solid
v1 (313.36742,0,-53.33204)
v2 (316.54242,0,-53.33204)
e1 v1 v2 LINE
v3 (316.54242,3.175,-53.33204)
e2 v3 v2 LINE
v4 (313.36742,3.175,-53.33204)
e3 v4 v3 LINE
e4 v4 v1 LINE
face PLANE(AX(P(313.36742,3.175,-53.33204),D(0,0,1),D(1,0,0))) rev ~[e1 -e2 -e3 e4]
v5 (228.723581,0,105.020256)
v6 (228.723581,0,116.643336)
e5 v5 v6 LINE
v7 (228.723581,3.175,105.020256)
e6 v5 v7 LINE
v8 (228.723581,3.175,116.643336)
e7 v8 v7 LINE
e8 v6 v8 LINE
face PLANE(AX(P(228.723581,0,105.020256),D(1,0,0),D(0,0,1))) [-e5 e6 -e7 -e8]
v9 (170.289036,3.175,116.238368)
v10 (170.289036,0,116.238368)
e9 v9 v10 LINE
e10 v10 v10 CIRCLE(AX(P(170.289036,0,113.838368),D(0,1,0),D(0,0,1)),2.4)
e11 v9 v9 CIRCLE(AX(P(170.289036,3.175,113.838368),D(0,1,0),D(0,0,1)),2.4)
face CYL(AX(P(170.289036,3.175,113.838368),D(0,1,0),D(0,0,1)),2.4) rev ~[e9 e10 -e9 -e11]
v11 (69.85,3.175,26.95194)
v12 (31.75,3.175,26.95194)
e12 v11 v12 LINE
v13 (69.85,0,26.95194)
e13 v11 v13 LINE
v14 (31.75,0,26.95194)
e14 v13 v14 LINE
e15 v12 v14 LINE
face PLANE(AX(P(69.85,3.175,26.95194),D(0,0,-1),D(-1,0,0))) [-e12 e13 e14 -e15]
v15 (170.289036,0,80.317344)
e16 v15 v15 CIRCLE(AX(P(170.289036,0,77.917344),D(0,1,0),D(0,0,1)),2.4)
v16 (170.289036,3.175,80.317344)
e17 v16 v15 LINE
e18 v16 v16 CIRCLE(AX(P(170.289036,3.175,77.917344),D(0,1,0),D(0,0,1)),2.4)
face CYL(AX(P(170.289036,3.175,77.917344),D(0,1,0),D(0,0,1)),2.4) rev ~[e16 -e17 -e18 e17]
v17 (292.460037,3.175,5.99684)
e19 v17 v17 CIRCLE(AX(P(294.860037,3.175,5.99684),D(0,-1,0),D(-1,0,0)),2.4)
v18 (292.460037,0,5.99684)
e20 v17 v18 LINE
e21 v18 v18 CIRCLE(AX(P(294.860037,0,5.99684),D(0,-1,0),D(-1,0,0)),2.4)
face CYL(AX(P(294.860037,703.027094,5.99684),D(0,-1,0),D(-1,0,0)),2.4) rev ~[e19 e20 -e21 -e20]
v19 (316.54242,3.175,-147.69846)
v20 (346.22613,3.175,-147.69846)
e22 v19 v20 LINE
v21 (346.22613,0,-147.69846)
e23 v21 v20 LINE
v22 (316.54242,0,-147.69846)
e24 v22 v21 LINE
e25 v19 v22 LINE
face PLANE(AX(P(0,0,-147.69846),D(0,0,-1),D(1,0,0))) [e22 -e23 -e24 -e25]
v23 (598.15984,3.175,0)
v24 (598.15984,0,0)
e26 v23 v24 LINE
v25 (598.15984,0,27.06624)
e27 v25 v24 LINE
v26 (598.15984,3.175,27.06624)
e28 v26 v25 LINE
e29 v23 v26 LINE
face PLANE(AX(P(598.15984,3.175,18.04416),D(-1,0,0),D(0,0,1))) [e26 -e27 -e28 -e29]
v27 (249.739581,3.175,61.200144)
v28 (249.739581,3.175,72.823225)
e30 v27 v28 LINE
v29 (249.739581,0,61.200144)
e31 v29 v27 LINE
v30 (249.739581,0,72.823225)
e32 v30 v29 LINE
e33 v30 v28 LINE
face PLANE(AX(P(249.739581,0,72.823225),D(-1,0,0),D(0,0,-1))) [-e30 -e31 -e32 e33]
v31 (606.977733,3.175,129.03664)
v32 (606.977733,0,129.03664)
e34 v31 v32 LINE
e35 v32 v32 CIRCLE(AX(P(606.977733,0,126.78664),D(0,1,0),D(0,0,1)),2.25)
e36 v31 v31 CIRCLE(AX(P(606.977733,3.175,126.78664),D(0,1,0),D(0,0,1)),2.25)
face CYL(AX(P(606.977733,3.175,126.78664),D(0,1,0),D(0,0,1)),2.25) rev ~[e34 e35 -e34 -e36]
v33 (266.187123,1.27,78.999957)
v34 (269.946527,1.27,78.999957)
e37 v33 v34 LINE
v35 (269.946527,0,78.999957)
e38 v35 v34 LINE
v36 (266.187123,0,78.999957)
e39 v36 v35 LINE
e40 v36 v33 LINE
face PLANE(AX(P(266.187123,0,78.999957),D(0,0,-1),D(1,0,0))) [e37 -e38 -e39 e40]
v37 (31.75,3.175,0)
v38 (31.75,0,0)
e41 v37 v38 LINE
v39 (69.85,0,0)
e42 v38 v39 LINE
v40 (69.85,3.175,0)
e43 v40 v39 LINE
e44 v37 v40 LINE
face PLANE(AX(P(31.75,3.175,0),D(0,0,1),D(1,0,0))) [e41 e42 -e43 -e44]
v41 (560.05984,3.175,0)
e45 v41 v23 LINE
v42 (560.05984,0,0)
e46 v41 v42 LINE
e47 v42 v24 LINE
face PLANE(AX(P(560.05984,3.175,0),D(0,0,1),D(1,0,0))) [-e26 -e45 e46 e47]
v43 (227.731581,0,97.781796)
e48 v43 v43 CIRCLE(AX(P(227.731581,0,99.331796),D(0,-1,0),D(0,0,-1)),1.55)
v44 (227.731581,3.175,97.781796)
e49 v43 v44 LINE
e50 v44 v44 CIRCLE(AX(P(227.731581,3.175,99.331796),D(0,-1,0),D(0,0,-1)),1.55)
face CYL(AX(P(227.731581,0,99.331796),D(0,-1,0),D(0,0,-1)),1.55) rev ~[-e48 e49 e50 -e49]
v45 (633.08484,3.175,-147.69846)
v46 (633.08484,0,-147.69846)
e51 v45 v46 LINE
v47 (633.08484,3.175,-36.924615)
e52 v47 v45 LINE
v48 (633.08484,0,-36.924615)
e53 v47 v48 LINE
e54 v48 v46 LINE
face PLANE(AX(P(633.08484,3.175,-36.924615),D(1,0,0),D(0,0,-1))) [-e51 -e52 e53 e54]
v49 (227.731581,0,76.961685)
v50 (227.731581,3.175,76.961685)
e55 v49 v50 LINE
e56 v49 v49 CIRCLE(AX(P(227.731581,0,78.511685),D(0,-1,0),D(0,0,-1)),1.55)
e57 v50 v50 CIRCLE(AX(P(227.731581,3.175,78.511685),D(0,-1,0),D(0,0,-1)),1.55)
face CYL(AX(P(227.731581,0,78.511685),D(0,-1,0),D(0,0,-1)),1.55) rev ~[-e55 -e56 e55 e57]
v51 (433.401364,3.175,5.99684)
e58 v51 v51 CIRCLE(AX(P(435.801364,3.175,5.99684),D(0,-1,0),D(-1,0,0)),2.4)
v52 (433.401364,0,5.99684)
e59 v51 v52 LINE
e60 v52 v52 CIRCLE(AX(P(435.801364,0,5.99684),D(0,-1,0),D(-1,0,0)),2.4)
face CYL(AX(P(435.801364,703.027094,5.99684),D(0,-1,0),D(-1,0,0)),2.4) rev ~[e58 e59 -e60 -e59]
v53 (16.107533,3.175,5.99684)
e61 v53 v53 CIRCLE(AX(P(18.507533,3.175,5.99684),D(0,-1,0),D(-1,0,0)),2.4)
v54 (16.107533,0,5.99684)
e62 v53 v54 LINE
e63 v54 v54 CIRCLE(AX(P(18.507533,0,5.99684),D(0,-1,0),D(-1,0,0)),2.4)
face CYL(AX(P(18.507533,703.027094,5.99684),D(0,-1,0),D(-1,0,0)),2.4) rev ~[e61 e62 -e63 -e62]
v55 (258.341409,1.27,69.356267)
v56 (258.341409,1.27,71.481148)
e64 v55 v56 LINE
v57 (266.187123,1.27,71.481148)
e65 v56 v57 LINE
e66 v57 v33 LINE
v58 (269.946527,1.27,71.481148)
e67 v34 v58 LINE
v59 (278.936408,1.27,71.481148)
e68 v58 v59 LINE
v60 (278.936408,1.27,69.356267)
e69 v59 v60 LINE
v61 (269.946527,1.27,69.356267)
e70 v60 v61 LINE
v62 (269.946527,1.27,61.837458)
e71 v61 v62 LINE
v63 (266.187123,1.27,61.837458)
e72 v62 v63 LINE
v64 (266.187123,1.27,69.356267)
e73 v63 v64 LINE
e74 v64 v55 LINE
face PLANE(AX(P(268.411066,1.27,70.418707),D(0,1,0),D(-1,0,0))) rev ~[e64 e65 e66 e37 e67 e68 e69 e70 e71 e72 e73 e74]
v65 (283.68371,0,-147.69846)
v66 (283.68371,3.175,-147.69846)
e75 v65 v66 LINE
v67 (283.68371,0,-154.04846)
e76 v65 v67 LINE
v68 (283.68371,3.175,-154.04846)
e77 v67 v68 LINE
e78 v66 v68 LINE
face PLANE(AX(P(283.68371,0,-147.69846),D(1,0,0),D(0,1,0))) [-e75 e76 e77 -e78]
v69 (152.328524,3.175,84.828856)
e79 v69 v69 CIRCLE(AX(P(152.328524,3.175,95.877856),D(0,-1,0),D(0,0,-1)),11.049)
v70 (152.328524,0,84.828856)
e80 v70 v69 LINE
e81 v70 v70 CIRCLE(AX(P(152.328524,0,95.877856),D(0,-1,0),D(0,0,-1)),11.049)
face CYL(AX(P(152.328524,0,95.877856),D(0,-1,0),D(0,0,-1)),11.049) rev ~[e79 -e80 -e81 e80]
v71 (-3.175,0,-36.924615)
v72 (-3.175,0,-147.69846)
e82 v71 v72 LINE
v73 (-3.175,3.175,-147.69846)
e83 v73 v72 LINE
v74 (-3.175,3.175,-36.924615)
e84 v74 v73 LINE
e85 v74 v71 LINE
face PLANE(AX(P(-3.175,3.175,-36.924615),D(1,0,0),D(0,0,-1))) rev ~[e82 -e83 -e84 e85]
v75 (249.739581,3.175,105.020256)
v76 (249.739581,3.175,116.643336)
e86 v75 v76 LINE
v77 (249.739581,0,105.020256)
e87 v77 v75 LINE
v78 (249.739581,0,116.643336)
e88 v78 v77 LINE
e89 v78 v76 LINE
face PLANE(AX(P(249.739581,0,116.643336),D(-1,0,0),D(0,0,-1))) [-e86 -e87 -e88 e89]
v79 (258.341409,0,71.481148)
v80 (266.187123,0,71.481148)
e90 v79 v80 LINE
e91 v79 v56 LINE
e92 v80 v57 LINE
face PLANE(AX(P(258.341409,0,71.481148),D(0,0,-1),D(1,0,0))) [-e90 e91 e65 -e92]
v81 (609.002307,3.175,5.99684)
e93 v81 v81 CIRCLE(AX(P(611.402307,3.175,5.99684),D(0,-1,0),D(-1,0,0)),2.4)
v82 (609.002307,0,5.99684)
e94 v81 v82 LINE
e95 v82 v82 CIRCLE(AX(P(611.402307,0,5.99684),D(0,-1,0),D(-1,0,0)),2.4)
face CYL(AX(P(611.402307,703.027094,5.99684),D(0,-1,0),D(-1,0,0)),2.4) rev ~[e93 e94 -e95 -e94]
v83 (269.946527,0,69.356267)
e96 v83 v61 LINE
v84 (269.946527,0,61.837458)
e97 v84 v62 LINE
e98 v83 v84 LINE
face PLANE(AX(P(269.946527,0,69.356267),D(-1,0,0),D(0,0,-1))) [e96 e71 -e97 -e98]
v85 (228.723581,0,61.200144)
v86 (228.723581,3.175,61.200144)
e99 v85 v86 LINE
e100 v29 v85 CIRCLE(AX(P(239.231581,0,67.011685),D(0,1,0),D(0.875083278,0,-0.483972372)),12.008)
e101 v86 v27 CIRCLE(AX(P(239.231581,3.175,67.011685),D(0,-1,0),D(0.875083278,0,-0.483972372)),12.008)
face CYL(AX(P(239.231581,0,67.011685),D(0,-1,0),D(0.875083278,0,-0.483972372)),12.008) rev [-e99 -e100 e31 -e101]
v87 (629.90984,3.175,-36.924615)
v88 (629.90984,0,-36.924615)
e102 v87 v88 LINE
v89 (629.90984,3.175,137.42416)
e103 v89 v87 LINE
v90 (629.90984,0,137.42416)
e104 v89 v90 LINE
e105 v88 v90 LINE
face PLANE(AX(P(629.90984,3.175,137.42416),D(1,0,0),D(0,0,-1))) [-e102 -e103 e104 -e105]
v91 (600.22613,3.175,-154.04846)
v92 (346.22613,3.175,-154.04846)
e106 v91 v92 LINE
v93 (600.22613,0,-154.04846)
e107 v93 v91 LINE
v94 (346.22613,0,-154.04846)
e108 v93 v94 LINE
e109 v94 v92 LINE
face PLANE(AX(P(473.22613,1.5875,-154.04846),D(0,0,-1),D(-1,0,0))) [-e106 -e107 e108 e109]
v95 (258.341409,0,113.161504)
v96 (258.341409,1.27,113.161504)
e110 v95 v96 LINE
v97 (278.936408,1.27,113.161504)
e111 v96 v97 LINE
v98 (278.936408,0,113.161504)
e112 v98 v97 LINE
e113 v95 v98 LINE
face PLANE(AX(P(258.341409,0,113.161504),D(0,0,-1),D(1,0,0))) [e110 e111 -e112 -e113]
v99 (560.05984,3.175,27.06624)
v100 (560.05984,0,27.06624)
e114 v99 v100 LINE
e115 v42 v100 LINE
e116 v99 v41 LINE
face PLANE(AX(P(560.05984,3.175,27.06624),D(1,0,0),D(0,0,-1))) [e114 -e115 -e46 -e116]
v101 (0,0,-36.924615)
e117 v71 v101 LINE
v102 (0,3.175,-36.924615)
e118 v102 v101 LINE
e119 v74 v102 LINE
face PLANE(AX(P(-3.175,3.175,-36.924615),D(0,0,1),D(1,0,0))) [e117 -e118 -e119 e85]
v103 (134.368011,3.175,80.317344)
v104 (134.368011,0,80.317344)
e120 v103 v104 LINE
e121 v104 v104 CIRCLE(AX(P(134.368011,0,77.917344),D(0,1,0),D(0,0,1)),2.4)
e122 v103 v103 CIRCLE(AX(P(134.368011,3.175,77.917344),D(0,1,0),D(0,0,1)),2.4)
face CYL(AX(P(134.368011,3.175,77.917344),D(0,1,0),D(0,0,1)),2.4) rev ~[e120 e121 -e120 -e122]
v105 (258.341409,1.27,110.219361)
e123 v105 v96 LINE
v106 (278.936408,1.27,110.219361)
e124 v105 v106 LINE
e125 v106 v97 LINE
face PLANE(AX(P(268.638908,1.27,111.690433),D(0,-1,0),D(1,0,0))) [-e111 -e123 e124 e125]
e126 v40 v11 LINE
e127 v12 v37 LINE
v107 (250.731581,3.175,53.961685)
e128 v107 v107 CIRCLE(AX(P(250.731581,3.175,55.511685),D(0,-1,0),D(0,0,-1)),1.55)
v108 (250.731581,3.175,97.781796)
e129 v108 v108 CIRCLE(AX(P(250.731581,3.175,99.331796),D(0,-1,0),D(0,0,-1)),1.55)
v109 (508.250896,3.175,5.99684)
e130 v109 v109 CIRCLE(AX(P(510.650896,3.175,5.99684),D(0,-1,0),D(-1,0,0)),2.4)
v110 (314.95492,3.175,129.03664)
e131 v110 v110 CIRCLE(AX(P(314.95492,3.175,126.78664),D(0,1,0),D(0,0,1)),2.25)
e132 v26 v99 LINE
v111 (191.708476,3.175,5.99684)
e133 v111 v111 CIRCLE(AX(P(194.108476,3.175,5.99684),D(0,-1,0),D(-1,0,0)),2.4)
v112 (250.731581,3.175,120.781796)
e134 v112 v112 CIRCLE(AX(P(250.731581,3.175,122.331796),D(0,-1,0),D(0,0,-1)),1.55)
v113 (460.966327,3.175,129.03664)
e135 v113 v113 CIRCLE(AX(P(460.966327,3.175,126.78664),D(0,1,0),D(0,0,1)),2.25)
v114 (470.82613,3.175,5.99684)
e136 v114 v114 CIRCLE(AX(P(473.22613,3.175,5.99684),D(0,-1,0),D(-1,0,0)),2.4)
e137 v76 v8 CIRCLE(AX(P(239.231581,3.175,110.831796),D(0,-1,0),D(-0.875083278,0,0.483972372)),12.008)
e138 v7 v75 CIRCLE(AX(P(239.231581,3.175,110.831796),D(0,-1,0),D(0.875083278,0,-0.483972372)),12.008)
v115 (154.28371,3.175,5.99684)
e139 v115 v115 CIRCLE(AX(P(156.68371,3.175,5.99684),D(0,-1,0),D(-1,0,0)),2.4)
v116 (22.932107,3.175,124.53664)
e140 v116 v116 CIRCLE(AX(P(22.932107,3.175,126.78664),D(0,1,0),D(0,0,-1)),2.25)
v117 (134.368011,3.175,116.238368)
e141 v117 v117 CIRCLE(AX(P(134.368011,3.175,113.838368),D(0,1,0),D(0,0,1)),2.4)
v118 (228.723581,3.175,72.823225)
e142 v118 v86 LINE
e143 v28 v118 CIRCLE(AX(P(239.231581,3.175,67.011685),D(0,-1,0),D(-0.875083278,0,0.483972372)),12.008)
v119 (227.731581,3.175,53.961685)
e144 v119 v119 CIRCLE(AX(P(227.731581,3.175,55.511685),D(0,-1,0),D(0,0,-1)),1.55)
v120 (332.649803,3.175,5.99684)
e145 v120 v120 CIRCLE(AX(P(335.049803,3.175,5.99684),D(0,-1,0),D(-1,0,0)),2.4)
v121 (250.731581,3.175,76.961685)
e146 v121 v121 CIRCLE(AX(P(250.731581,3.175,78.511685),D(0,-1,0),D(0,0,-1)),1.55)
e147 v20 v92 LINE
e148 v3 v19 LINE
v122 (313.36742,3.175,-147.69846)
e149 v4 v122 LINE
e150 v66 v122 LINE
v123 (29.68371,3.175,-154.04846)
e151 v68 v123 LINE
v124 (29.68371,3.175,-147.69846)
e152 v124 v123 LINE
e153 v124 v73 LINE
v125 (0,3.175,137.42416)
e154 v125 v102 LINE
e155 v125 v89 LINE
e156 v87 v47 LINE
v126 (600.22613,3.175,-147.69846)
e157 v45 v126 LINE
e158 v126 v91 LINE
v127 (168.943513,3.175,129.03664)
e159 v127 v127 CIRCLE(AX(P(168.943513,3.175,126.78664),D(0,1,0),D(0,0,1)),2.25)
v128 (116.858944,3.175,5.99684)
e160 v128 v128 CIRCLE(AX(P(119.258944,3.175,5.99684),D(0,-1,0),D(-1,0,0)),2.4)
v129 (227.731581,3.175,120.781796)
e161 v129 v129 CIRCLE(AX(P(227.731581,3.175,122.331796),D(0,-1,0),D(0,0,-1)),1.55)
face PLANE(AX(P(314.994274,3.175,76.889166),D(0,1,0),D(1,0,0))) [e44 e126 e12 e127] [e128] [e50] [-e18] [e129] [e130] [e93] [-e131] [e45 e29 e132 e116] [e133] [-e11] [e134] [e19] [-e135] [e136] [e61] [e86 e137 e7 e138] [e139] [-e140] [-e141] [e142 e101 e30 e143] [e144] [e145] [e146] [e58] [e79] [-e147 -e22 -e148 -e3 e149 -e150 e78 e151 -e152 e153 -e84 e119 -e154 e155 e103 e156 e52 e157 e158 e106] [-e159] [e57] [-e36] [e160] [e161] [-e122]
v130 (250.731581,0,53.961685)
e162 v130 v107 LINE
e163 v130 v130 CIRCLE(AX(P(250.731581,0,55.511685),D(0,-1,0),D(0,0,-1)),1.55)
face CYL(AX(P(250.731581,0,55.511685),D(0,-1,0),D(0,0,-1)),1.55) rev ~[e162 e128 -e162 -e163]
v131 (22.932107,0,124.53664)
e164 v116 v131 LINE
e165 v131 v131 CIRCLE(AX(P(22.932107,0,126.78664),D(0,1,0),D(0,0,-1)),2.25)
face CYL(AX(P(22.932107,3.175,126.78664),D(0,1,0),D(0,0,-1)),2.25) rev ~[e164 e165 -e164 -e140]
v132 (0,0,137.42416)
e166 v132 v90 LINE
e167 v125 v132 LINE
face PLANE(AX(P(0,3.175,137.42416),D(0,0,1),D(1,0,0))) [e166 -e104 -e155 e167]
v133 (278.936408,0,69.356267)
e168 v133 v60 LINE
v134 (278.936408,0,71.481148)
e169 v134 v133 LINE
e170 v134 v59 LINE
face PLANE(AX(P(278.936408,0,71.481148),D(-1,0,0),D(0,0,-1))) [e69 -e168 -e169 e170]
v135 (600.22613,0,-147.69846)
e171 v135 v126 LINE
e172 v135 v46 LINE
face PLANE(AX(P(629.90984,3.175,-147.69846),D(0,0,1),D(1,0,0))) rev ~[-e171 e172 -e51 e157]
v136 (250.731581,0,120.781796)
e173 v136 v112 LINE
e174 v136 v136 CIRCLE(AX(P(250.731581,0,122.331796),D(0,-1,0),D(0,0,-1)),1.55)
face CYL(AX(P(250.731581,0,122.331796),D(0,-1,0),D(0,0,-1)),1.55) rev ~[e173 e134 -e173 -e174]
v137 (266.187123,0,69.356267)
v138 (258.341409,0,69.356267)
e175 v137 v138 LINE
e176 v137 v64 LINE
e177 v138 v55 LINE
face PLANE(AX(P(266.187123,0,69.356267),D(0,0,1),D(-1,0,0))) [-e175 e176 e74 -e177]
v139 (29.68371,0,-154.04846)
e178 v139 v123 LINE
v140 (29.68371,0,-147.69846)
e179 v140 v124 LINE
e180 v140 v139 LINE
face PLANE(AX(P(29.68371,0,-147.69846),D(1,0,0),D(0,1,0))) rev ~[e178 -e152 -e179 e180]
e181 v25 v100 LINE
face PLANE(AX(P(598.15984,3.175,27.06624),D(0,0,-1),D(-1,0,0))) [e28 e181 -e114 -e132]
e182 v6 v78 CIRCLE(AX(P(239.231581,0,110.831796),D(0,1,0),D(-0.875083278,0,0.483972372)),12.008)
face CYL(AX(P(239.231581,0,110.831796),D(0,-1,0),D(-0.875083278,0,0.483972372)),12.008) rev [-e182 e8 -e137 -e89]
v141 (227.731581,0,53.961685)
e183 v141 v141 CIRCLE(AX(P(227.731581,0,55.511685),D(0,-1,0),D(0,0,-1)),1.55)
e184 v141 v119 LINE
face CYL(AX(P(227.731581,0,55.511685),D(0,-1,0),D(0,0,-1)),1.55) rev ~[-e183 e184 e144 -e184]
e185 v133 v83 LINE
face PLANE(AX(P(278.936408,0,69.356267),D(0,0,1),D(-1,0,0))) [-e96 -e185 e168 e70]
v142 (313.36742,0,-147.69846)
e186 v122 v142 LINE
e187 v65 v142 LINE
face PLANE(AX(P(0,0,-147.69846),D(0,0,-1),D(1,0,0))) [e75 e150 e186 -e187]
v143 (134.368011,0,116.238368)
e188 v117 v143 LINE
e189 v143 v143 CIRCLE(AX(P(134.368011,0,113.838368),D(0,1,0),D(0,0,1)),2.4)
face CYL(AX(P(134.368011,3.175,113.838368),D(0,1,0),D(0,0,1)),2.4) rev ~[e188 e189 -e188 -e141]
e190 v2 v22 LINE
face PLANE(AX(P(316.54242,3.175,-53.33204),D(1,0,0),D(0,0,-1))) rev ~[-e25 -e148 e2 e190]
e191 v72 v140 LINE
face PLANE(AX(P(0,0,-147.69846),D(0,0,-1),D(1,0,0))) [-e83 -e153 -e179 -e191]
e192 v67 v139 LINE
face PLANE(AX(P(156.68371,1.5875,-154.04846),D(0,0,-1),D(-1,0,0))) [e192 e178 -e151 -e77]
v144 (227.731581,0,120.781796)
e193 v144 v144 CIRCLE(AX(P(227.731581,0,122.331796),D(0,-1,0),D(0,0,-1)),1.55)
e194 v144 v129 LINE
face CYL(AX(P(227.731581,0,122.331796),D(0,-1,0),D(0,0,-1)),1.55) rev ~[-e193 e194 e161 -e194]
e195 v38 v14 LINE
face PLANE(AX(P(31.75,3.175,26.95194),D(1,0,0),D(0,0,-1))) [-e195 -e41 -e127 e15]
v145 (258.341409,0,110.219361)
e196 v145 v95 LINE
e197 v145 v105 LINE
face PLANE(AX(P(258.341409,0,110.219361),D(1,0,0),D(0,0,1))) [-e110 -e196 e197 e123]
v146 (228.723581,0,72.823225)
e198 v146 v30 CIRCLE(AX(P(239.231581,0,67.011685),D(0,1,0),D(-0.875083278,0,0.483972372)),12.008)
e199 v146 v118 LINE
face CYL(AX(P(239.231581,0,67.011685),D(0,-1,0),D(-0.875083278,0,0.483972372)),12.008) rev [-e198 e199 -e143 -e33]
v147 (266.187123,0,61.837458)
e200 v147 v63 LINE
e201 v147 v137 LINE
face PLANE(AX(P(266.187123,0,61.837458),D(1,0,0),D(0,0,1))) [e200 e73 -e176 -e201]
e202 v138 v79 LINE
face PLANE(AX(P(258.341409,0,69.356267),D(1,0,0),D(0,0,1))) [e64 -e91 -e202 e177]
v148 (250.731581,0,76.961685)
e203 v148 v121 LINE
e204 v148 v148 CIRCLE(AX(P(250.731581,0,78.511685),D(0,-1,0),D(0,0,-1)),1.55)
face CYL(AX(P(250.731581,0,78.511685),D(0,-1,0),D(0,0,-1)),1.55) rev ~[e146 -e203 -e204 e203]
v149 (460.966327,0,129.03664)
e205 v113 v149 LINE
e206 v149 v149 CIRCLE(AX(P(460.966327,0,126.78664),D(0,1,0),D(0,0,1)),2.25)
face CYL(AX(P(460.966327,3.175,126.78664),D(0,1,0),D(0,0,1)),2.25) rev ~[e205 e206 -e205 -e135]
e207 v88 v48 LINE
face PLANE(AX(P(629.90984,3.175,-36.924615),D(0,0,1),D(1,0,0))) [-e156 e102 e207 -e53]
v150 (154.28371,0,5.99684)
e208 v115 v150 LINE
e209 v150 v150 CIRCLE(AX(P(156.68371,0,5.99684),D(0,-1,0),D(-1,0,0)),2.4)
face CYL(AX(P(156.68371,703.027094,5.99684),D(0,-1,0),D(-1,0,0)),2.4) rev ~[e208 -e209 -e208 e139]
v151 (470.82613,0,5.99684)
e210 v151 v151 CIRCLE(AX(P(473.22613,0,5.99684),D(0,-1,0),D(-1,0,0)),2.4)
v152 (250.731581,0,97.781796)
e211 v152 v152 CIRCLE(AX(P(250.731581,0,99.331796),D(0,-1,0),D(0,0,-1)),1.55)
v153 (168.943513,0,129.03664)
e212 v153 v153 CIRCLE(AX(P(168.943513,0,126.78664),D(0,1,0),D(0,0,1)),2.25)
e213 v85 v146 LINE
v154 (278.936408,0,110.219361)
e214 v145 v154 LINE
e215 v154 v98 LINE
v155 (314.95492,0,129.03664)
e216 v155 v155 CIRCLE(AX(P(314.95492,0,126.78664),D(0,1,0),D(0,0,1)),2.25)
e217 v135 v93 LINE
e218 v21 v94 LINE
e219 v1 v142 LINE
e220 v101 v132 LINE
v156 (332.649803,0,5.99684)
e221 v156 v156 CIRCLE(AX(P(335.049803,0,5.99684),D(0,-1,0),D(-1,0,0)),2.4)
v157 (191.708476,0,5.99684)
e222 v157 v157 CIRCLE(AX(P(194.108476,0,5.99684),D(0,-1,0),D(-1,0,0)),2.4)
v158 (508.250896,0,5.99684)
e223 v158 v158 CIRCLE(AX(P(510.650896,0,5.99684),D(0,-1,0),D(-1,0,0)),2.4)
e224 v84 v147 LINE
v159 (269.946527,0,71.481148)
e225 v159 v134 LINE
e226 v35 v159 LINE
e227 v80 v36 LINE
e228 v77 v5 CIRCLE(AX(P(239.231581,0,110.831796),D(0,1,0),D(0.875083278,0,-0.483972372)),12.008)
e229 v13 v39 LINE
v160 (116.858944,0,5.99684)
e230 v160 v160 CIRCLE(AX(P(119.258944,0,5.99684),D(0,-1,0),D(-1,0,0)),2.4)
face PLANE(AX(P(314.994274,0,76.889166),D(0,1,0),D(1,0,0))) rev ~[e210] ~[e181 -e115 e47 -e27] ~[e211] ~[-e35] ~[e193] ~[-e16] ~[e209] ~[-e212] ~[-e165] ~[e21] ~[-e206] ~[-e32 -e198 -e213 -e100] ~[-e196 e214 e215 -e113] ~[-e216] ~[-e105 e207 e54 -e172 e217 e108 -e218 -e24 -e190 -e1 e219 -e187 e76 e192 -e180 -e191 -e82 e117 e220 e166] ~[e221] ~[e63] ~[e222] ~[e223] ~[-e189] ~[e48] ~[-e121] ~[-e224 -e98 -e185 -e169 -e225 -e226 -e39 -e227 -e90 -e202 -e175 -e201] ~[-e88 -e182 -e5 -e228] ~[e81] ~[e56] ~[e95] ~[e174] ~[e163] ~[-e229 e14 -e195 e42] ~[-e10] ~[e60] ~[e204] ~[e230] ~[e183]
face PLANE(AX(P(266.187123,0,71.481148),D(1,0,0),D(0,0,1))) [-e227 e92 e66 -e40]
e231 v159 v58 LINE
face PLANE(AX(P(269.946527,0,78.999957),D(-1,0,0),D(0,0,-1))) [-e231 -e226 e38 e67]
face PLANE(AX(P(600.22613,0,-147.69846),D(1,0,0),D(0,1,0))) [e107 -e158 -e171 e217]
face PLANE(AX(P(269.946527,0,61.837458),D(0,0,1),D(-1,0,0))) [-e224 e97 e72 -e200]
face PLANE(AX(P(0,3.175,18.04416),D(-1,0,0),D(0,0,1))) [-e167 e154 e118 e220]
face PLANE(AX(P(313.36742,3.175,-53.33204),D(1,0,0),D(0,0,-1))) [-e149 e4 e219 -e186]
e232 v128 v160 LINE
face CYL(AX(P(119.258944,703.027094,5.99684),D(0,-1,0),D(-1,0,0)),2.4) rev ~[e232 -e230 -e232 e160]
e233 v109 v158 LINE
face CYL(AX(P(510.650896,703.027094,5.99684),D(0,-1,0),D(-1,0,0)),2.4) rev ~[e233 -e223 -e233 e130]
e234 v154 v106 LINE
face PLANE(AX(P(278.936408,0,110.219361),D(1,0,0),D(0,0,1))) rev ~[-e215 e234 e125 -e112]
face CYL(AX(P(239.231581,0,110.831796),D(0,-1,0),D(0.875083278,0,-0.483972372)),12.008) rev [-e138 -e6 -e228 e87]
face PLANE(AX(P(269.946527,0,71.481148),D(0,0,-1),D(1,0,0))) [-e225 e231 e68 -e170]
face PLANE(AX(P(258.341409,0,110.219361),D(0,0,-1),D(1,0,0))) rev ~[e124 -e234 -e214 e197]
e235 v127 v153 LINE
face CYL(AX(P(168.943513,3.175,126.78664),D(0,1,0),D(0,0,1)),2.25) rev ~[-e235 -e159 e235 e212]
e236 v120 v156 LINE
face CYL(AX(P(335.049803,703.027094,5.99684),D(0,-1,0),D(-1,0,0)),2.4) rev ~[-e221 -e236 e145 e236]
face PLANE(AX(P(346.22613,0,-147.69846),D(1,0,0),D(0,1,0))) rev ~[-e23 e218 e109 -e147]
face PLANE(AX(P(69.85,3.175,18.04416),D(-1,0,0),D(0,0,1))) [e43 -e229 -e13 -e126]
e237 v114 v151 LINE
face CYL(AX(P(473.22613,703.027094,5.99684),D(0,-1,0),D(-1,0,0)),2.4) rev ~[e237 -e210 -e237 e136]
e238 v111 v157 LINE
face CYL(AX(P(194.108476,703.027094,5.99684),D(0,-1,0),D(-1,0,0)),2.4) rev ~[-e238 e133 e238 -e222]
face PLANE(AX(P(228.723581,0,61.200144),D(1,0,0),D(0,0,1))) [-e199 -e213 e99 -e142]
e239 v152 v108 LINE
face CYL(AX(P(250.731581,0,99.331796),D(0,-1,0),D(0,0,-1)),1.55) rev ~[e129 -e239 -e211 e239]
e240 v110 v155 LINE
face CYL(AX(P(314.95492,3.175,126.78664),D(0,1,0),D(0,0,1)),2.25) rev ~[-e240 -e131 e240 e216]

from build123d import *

# Parameters (mm, degrees)
SKETCH1_W            = 629.90984
SKETCH1_H            = 147.69846
BOSS_EXTRUDE1_DEPTH  = 3.175
SKETCH3_W            = 254
SKETCH3_H            = 3.175
BOSS_EXTRUDE2_DEPTH  = 6.35
SKETCH4_W            = 3.175
SKETCH4_H            = 188.732840052
CUT_EXTRUDE1_DEPTH   = 3.175
SKETCH6_W            = 3.175
SKETCH6_H            = 110.773845
BOSS_EXTRUDE4_DEPTH  = 3.175
SKETCH8_W            = 629.90984
SKETCH8_H            = 18.04416
BOSS_EXTRUDE5_DEPTH  = 3.175
SKETCH10_W           = 38.1
SKETCH10_H           = 36.08832
CUT_EXTRUDE3_DEPTH   = 652.56536379
BOSS_EXTRUDE6_DEPTH  = 3.175
SKETCH13_R           = 1.55
SKETCH13_R_2         = 11.049
CUT_EXTRUDE4_DEPTH   = 652.56536379
SKETCH20_W           = 20.59499956
SKETCH20_H           = 2.942142794
CUT_EXTRUDE7_DEPTH   = 1.27
SKETCH21_R           = 2.25
CUT_EXTRUDE8_DEPTH   = 652.56536379
SKETCH27_R           = 2.4
CUT_EXTRUDE12_DEPTH  = 652.56536379
M4_CLEARANCE_HOLE2_D = 4.8


with BuildPart() as part:
    # Sketch1 → Boss-Extrude1 (new body)
    with BuildSketch(Plane(origin=(0, 0, 0), x_dir=(1, 0, 0), z_dir=(0, 1, 0))):
        with Locations((314.95492, 73.84923)):
            Rectangle(SKETCH1_W, SKETCH1_H)
    extrude(amount=BOSS_EXTRUDE1_DEPTH)

    # Sketch3 → Boss-Extrude2 (add)
    with BuildSketch(Plane(origin=(0, 0, -147.69846), x_dir=(-1, 0, 0), z_dir=(0, 0, -1))):
        with Locations((-473.22613, 1.5875)):
            Rectangle(SKETCH3_W, SKETCH3_H)
        with Locations((-156.68371, 1.5875)):
            Rectangle(SKETCH3_W, SKETCH3_H)
    extrude(amount=BOSS_EXTRUDE2_DEPTH)

    # Sketch4 → Cut-Extrude1 (cut)
    with BuildSketch(Plane(origin=(0, 3.175, 0), x_dir=(1, 0, 0), z_dir=(0, 1, 0))):
        with Locations((314.95492, 147.69846)):
            Rectangle(SKETCH4_W, SKETCH4_H)
    extrude(amount=-CUT_EXTRUDE1_DEPTH, mode=Mode.SUBTRACT)

    # Sketch6 → Boss-Extrude4 (add)
    with BuildSketch(Plane(origin=(0, 3.175, 0), x_dir=(1, 0, 0), z_dir=(0, 1, 0))):
        with Locations((631.49734, 92.3115375)):
            Rectangle(SKETCH6_W, SKETCH6_H)
        with Locations((-1.5875, 92.3115375)):
            Rectangle(SKETCH6_W, SKETCH6_H)
    extrude(amount=-BOSS_EXTRUDE4_DEPTH)

    # Sketch8 → Boss-Extrude5 (add, through all)
    with BuildSketch(Plane(origin=(0, 3.175, 0), x_dir=(1, 0, 0), z_dir=(0, 1, 0))):
        with Locations((314.95492, -9.02208)):
            Rectangle(SKETCH8_W, SKETCH8_H)
    extrude(amount=-BOSS_EXTRUDE5_DEPTH)

    # Sketch10 → Cut-Extrude3 (cut, through all)
    with BuildSketch(Plane(origin=(0, 3.175, 0), x_dir=(1, 0, 0), z_dir=(0, 1, 0))):
        with Locations((579.10984, -18.04416)):
            Rectangle(SKETCH10_W, SKETCH10_H)
        with Locations((50.8, -18.04416)):
            Rectangle(SKETCH10_W, SKETCH10_H)
    extrude(amount=-CUT_EXTRUDE3_DEPTH, mode=Mode.SUBTRACT)

    # Sketch11 → Boss-Extrude6 (add, through all)
    with BuildSketch(Plane(origin=(0, 3.175, 0), x_dir=(1, 0, 0), z_dir=(0, 1, 0))):
        Polygon((0, -18.04416), (0, -137.42416), (629.90984, -137.42416), (629.90984, -18.04416), (598.15984, -18.04416), (598.15984, -27.06624), (560.05984, -27.06624), (560.05984, -18.04416), (386.39242, -18.04416), (348.29242, -18.04416), (281.61742, -18.04416), (243.51742, -18.04416), (69.85, -18.04416), (69.85, -26.95194), (31.75, -26.95194), (31.75, -18.04416), align=None)
    extrude(amount=-BOSS_EXTRUDE6_DEPTH)

    # Sketch13 → Cut-Extrude4 (cut, through all)
    with BuildSketch(Plane.XZ):
        with Locations(Location((227.731580951, 99.331796051, 0), (0, 0, 270))):
            Circle(SKETCH13_R)
        with Locations(Location((227.731580951, 122.331796051, 0), (0, 0, 270))):
            Circle(SKETCH13_R)
        with Locations(Location((250.731580951, 99.331796051, 0), (0, 0, 270))):
            Circle(SKETCH13_R)
        with Locations(Location((250.731580951, 122.331796051, 0), (0, 0, 270))):
            Circle(SKETCH13_R)
        with Locations(Location((152.328523542, 95.877856055, 0), (0, 0, 270))):
            Circle(SKETCH13_R_2)
        with Locations(Location((227.731580951, 78.511684621, 0), (0, 0, 270))):
            Circle(SKETCH13_R)
        with Locations(Location((227.731580951, 55.511684621, 0), (0, 0, 270))):
            Circle(SKETCH13_R)
        with Locations(Location((250.731580951, 55.511684621, 0), (0, 0, 270))):
            Circle(SKETCH13_R)
        with Locations(Location((250.731580951, 78.511684621, 0), (0, 0, 270))):
            Circle(SKETCH13_R)
        with BuildLine():
            Line((249.739580951, 116.643336294), (249.739580951, 105.020255807))
            ThreePointArc((249.739580951, 105.020255807), (239.231580951, 98.823796051), (228.723580951, 105.020255807))
            Line((228.723580951, 105.020255807), (228.723580951, 116.643336294))
            ThreePointArc((228.723580951, 116.643336294), (239.231580951, 122.839796051), (249.739580951, 116.643336294))
        make_face()
        with BuildLine():
            Line((249.739580951, 72.823224865), (249.739580951, 61.200144378))
            ThreePointArc((249.739580951, 61.200144378), (239.231580951, 55.003684621), (228.723580951, 61.200144378))
            Line((228.723580951, 61.200144378), (228.723580951, 72.823224865))
            ThreePointArc((228.723580951, 72.823224865), (239.231580951, 79.019684621), (249.739580951, 72.823224865))
        make_face()
    extrude(amount=-CUT_EXTRUDE4_DEPTH, mode=Mode.SUBTRACT)

    # Sketch20 → Cut-Extrude7 (cut)
    with BuildSketch(Plane.XZ):
        Polygon((269.946527362, 71.481147903), (278.936408122, 71.481147903), (278.936408122, 69.356266996), (269.946527362, 69.356266996), (269.946527362, 61.837457633), (266.18712268, 61.837457633), (266.18712268, 69.356266996), (258.341408562, 69.356266996), (258.341408562, 71.481147903), (266.18712268, 71.481147903), (266.18712268, 78.999957266), (269.946527362, 78.999957266), align=None)
        with Locations((268.638908342, 111.690432757)):
            Rectangle(SKETCH20_W, SKETCH20_H)
    extrude(amount=-CUT_EXTRUDE7_DEPTH, mode=Mode.SUBTRACT)

    # Sketch21 → Cut-Extrude8 (cut, through all)
    with BuildSketch(Plane(origin=(0, 3.175, 0), x_dir=(1, 0, 0), z_dir=(0, 1, 0))):
        with Locations(Location((168.943513391, -126.78664, 0), (0, 0, 270))):
            Circle(SKETCH21_R)
        with Locations(Location((314.95492, -126.78664, 0), (0, 0, 270))):
            Circle(SKETCH21_R)
        with Locations(Location((460.966326609, -126.78664, 0), (0, 0, 270))):
            Circle(SKETCH21_R)
        with Locations(Location((606.977733219, -126.78664, 0), (0, 0, 270))):
            Circle(SKETCH21_R)
        with Locations(Location((22.932106781, -126.78664, 0), (0, 0, 90))):
            Circle(SKETCH21_R)
    extrude(amount=-CUT_EXTRUDE8_DEPTH, mode=Mode.SUBTRACT)

    # Sketch27 → Cut-Extrude12 (cut, through all)
    with BuildSketch(Plane(origin=(0, 3.175, 0), x_dir=(1, 0, 0), z_dir=(0, 1, 0))):
        with Locations(Location((134.3680113, -77.917343813, 0), (0, 0, 270))):
            Circle(SKETCH27_R)
        with Locations(Location((170.289035784, -77.917343813, 0), (0, 0, 270))):
            Circle(SKETCH27_R)
        with Locations(Location((170.289035784, -113.838368298, 0), (0, 0, 270))):
            Circle(SKETCH27_R)
        with Locations(Location((134.3680113, -113.838368298, 0), (0, 0, 270))):
            Circle(SKETCH27_R)
    extrude(amount=-CUT_EXTRUDE12_DEPTH, mode=Mode.SUBTRACT)

    # M4 Clearance Hole2 (through all)
    with Locations(Plane(origin=(0, 3.175, 0), x_dir=(1, 0, 0), z_dir=(0, 1, 0))):
        with Locations((18.507533496, -5.996840051), (119.258944248, -5.996840051), (156.68371, -5.996840051), (194.108475752, -5.996840051), (294.860036505, -5.996840051), (335.049803495, -5.996840051), (435.801364248, -5.996840051), (473.22613, -5.996840051), (510.650895752, -5.996840051), (611.402306504, -5.996840051)):
            Hole(M4_CLEARANCE_HOLE2_D / 2)


solid = part.part
